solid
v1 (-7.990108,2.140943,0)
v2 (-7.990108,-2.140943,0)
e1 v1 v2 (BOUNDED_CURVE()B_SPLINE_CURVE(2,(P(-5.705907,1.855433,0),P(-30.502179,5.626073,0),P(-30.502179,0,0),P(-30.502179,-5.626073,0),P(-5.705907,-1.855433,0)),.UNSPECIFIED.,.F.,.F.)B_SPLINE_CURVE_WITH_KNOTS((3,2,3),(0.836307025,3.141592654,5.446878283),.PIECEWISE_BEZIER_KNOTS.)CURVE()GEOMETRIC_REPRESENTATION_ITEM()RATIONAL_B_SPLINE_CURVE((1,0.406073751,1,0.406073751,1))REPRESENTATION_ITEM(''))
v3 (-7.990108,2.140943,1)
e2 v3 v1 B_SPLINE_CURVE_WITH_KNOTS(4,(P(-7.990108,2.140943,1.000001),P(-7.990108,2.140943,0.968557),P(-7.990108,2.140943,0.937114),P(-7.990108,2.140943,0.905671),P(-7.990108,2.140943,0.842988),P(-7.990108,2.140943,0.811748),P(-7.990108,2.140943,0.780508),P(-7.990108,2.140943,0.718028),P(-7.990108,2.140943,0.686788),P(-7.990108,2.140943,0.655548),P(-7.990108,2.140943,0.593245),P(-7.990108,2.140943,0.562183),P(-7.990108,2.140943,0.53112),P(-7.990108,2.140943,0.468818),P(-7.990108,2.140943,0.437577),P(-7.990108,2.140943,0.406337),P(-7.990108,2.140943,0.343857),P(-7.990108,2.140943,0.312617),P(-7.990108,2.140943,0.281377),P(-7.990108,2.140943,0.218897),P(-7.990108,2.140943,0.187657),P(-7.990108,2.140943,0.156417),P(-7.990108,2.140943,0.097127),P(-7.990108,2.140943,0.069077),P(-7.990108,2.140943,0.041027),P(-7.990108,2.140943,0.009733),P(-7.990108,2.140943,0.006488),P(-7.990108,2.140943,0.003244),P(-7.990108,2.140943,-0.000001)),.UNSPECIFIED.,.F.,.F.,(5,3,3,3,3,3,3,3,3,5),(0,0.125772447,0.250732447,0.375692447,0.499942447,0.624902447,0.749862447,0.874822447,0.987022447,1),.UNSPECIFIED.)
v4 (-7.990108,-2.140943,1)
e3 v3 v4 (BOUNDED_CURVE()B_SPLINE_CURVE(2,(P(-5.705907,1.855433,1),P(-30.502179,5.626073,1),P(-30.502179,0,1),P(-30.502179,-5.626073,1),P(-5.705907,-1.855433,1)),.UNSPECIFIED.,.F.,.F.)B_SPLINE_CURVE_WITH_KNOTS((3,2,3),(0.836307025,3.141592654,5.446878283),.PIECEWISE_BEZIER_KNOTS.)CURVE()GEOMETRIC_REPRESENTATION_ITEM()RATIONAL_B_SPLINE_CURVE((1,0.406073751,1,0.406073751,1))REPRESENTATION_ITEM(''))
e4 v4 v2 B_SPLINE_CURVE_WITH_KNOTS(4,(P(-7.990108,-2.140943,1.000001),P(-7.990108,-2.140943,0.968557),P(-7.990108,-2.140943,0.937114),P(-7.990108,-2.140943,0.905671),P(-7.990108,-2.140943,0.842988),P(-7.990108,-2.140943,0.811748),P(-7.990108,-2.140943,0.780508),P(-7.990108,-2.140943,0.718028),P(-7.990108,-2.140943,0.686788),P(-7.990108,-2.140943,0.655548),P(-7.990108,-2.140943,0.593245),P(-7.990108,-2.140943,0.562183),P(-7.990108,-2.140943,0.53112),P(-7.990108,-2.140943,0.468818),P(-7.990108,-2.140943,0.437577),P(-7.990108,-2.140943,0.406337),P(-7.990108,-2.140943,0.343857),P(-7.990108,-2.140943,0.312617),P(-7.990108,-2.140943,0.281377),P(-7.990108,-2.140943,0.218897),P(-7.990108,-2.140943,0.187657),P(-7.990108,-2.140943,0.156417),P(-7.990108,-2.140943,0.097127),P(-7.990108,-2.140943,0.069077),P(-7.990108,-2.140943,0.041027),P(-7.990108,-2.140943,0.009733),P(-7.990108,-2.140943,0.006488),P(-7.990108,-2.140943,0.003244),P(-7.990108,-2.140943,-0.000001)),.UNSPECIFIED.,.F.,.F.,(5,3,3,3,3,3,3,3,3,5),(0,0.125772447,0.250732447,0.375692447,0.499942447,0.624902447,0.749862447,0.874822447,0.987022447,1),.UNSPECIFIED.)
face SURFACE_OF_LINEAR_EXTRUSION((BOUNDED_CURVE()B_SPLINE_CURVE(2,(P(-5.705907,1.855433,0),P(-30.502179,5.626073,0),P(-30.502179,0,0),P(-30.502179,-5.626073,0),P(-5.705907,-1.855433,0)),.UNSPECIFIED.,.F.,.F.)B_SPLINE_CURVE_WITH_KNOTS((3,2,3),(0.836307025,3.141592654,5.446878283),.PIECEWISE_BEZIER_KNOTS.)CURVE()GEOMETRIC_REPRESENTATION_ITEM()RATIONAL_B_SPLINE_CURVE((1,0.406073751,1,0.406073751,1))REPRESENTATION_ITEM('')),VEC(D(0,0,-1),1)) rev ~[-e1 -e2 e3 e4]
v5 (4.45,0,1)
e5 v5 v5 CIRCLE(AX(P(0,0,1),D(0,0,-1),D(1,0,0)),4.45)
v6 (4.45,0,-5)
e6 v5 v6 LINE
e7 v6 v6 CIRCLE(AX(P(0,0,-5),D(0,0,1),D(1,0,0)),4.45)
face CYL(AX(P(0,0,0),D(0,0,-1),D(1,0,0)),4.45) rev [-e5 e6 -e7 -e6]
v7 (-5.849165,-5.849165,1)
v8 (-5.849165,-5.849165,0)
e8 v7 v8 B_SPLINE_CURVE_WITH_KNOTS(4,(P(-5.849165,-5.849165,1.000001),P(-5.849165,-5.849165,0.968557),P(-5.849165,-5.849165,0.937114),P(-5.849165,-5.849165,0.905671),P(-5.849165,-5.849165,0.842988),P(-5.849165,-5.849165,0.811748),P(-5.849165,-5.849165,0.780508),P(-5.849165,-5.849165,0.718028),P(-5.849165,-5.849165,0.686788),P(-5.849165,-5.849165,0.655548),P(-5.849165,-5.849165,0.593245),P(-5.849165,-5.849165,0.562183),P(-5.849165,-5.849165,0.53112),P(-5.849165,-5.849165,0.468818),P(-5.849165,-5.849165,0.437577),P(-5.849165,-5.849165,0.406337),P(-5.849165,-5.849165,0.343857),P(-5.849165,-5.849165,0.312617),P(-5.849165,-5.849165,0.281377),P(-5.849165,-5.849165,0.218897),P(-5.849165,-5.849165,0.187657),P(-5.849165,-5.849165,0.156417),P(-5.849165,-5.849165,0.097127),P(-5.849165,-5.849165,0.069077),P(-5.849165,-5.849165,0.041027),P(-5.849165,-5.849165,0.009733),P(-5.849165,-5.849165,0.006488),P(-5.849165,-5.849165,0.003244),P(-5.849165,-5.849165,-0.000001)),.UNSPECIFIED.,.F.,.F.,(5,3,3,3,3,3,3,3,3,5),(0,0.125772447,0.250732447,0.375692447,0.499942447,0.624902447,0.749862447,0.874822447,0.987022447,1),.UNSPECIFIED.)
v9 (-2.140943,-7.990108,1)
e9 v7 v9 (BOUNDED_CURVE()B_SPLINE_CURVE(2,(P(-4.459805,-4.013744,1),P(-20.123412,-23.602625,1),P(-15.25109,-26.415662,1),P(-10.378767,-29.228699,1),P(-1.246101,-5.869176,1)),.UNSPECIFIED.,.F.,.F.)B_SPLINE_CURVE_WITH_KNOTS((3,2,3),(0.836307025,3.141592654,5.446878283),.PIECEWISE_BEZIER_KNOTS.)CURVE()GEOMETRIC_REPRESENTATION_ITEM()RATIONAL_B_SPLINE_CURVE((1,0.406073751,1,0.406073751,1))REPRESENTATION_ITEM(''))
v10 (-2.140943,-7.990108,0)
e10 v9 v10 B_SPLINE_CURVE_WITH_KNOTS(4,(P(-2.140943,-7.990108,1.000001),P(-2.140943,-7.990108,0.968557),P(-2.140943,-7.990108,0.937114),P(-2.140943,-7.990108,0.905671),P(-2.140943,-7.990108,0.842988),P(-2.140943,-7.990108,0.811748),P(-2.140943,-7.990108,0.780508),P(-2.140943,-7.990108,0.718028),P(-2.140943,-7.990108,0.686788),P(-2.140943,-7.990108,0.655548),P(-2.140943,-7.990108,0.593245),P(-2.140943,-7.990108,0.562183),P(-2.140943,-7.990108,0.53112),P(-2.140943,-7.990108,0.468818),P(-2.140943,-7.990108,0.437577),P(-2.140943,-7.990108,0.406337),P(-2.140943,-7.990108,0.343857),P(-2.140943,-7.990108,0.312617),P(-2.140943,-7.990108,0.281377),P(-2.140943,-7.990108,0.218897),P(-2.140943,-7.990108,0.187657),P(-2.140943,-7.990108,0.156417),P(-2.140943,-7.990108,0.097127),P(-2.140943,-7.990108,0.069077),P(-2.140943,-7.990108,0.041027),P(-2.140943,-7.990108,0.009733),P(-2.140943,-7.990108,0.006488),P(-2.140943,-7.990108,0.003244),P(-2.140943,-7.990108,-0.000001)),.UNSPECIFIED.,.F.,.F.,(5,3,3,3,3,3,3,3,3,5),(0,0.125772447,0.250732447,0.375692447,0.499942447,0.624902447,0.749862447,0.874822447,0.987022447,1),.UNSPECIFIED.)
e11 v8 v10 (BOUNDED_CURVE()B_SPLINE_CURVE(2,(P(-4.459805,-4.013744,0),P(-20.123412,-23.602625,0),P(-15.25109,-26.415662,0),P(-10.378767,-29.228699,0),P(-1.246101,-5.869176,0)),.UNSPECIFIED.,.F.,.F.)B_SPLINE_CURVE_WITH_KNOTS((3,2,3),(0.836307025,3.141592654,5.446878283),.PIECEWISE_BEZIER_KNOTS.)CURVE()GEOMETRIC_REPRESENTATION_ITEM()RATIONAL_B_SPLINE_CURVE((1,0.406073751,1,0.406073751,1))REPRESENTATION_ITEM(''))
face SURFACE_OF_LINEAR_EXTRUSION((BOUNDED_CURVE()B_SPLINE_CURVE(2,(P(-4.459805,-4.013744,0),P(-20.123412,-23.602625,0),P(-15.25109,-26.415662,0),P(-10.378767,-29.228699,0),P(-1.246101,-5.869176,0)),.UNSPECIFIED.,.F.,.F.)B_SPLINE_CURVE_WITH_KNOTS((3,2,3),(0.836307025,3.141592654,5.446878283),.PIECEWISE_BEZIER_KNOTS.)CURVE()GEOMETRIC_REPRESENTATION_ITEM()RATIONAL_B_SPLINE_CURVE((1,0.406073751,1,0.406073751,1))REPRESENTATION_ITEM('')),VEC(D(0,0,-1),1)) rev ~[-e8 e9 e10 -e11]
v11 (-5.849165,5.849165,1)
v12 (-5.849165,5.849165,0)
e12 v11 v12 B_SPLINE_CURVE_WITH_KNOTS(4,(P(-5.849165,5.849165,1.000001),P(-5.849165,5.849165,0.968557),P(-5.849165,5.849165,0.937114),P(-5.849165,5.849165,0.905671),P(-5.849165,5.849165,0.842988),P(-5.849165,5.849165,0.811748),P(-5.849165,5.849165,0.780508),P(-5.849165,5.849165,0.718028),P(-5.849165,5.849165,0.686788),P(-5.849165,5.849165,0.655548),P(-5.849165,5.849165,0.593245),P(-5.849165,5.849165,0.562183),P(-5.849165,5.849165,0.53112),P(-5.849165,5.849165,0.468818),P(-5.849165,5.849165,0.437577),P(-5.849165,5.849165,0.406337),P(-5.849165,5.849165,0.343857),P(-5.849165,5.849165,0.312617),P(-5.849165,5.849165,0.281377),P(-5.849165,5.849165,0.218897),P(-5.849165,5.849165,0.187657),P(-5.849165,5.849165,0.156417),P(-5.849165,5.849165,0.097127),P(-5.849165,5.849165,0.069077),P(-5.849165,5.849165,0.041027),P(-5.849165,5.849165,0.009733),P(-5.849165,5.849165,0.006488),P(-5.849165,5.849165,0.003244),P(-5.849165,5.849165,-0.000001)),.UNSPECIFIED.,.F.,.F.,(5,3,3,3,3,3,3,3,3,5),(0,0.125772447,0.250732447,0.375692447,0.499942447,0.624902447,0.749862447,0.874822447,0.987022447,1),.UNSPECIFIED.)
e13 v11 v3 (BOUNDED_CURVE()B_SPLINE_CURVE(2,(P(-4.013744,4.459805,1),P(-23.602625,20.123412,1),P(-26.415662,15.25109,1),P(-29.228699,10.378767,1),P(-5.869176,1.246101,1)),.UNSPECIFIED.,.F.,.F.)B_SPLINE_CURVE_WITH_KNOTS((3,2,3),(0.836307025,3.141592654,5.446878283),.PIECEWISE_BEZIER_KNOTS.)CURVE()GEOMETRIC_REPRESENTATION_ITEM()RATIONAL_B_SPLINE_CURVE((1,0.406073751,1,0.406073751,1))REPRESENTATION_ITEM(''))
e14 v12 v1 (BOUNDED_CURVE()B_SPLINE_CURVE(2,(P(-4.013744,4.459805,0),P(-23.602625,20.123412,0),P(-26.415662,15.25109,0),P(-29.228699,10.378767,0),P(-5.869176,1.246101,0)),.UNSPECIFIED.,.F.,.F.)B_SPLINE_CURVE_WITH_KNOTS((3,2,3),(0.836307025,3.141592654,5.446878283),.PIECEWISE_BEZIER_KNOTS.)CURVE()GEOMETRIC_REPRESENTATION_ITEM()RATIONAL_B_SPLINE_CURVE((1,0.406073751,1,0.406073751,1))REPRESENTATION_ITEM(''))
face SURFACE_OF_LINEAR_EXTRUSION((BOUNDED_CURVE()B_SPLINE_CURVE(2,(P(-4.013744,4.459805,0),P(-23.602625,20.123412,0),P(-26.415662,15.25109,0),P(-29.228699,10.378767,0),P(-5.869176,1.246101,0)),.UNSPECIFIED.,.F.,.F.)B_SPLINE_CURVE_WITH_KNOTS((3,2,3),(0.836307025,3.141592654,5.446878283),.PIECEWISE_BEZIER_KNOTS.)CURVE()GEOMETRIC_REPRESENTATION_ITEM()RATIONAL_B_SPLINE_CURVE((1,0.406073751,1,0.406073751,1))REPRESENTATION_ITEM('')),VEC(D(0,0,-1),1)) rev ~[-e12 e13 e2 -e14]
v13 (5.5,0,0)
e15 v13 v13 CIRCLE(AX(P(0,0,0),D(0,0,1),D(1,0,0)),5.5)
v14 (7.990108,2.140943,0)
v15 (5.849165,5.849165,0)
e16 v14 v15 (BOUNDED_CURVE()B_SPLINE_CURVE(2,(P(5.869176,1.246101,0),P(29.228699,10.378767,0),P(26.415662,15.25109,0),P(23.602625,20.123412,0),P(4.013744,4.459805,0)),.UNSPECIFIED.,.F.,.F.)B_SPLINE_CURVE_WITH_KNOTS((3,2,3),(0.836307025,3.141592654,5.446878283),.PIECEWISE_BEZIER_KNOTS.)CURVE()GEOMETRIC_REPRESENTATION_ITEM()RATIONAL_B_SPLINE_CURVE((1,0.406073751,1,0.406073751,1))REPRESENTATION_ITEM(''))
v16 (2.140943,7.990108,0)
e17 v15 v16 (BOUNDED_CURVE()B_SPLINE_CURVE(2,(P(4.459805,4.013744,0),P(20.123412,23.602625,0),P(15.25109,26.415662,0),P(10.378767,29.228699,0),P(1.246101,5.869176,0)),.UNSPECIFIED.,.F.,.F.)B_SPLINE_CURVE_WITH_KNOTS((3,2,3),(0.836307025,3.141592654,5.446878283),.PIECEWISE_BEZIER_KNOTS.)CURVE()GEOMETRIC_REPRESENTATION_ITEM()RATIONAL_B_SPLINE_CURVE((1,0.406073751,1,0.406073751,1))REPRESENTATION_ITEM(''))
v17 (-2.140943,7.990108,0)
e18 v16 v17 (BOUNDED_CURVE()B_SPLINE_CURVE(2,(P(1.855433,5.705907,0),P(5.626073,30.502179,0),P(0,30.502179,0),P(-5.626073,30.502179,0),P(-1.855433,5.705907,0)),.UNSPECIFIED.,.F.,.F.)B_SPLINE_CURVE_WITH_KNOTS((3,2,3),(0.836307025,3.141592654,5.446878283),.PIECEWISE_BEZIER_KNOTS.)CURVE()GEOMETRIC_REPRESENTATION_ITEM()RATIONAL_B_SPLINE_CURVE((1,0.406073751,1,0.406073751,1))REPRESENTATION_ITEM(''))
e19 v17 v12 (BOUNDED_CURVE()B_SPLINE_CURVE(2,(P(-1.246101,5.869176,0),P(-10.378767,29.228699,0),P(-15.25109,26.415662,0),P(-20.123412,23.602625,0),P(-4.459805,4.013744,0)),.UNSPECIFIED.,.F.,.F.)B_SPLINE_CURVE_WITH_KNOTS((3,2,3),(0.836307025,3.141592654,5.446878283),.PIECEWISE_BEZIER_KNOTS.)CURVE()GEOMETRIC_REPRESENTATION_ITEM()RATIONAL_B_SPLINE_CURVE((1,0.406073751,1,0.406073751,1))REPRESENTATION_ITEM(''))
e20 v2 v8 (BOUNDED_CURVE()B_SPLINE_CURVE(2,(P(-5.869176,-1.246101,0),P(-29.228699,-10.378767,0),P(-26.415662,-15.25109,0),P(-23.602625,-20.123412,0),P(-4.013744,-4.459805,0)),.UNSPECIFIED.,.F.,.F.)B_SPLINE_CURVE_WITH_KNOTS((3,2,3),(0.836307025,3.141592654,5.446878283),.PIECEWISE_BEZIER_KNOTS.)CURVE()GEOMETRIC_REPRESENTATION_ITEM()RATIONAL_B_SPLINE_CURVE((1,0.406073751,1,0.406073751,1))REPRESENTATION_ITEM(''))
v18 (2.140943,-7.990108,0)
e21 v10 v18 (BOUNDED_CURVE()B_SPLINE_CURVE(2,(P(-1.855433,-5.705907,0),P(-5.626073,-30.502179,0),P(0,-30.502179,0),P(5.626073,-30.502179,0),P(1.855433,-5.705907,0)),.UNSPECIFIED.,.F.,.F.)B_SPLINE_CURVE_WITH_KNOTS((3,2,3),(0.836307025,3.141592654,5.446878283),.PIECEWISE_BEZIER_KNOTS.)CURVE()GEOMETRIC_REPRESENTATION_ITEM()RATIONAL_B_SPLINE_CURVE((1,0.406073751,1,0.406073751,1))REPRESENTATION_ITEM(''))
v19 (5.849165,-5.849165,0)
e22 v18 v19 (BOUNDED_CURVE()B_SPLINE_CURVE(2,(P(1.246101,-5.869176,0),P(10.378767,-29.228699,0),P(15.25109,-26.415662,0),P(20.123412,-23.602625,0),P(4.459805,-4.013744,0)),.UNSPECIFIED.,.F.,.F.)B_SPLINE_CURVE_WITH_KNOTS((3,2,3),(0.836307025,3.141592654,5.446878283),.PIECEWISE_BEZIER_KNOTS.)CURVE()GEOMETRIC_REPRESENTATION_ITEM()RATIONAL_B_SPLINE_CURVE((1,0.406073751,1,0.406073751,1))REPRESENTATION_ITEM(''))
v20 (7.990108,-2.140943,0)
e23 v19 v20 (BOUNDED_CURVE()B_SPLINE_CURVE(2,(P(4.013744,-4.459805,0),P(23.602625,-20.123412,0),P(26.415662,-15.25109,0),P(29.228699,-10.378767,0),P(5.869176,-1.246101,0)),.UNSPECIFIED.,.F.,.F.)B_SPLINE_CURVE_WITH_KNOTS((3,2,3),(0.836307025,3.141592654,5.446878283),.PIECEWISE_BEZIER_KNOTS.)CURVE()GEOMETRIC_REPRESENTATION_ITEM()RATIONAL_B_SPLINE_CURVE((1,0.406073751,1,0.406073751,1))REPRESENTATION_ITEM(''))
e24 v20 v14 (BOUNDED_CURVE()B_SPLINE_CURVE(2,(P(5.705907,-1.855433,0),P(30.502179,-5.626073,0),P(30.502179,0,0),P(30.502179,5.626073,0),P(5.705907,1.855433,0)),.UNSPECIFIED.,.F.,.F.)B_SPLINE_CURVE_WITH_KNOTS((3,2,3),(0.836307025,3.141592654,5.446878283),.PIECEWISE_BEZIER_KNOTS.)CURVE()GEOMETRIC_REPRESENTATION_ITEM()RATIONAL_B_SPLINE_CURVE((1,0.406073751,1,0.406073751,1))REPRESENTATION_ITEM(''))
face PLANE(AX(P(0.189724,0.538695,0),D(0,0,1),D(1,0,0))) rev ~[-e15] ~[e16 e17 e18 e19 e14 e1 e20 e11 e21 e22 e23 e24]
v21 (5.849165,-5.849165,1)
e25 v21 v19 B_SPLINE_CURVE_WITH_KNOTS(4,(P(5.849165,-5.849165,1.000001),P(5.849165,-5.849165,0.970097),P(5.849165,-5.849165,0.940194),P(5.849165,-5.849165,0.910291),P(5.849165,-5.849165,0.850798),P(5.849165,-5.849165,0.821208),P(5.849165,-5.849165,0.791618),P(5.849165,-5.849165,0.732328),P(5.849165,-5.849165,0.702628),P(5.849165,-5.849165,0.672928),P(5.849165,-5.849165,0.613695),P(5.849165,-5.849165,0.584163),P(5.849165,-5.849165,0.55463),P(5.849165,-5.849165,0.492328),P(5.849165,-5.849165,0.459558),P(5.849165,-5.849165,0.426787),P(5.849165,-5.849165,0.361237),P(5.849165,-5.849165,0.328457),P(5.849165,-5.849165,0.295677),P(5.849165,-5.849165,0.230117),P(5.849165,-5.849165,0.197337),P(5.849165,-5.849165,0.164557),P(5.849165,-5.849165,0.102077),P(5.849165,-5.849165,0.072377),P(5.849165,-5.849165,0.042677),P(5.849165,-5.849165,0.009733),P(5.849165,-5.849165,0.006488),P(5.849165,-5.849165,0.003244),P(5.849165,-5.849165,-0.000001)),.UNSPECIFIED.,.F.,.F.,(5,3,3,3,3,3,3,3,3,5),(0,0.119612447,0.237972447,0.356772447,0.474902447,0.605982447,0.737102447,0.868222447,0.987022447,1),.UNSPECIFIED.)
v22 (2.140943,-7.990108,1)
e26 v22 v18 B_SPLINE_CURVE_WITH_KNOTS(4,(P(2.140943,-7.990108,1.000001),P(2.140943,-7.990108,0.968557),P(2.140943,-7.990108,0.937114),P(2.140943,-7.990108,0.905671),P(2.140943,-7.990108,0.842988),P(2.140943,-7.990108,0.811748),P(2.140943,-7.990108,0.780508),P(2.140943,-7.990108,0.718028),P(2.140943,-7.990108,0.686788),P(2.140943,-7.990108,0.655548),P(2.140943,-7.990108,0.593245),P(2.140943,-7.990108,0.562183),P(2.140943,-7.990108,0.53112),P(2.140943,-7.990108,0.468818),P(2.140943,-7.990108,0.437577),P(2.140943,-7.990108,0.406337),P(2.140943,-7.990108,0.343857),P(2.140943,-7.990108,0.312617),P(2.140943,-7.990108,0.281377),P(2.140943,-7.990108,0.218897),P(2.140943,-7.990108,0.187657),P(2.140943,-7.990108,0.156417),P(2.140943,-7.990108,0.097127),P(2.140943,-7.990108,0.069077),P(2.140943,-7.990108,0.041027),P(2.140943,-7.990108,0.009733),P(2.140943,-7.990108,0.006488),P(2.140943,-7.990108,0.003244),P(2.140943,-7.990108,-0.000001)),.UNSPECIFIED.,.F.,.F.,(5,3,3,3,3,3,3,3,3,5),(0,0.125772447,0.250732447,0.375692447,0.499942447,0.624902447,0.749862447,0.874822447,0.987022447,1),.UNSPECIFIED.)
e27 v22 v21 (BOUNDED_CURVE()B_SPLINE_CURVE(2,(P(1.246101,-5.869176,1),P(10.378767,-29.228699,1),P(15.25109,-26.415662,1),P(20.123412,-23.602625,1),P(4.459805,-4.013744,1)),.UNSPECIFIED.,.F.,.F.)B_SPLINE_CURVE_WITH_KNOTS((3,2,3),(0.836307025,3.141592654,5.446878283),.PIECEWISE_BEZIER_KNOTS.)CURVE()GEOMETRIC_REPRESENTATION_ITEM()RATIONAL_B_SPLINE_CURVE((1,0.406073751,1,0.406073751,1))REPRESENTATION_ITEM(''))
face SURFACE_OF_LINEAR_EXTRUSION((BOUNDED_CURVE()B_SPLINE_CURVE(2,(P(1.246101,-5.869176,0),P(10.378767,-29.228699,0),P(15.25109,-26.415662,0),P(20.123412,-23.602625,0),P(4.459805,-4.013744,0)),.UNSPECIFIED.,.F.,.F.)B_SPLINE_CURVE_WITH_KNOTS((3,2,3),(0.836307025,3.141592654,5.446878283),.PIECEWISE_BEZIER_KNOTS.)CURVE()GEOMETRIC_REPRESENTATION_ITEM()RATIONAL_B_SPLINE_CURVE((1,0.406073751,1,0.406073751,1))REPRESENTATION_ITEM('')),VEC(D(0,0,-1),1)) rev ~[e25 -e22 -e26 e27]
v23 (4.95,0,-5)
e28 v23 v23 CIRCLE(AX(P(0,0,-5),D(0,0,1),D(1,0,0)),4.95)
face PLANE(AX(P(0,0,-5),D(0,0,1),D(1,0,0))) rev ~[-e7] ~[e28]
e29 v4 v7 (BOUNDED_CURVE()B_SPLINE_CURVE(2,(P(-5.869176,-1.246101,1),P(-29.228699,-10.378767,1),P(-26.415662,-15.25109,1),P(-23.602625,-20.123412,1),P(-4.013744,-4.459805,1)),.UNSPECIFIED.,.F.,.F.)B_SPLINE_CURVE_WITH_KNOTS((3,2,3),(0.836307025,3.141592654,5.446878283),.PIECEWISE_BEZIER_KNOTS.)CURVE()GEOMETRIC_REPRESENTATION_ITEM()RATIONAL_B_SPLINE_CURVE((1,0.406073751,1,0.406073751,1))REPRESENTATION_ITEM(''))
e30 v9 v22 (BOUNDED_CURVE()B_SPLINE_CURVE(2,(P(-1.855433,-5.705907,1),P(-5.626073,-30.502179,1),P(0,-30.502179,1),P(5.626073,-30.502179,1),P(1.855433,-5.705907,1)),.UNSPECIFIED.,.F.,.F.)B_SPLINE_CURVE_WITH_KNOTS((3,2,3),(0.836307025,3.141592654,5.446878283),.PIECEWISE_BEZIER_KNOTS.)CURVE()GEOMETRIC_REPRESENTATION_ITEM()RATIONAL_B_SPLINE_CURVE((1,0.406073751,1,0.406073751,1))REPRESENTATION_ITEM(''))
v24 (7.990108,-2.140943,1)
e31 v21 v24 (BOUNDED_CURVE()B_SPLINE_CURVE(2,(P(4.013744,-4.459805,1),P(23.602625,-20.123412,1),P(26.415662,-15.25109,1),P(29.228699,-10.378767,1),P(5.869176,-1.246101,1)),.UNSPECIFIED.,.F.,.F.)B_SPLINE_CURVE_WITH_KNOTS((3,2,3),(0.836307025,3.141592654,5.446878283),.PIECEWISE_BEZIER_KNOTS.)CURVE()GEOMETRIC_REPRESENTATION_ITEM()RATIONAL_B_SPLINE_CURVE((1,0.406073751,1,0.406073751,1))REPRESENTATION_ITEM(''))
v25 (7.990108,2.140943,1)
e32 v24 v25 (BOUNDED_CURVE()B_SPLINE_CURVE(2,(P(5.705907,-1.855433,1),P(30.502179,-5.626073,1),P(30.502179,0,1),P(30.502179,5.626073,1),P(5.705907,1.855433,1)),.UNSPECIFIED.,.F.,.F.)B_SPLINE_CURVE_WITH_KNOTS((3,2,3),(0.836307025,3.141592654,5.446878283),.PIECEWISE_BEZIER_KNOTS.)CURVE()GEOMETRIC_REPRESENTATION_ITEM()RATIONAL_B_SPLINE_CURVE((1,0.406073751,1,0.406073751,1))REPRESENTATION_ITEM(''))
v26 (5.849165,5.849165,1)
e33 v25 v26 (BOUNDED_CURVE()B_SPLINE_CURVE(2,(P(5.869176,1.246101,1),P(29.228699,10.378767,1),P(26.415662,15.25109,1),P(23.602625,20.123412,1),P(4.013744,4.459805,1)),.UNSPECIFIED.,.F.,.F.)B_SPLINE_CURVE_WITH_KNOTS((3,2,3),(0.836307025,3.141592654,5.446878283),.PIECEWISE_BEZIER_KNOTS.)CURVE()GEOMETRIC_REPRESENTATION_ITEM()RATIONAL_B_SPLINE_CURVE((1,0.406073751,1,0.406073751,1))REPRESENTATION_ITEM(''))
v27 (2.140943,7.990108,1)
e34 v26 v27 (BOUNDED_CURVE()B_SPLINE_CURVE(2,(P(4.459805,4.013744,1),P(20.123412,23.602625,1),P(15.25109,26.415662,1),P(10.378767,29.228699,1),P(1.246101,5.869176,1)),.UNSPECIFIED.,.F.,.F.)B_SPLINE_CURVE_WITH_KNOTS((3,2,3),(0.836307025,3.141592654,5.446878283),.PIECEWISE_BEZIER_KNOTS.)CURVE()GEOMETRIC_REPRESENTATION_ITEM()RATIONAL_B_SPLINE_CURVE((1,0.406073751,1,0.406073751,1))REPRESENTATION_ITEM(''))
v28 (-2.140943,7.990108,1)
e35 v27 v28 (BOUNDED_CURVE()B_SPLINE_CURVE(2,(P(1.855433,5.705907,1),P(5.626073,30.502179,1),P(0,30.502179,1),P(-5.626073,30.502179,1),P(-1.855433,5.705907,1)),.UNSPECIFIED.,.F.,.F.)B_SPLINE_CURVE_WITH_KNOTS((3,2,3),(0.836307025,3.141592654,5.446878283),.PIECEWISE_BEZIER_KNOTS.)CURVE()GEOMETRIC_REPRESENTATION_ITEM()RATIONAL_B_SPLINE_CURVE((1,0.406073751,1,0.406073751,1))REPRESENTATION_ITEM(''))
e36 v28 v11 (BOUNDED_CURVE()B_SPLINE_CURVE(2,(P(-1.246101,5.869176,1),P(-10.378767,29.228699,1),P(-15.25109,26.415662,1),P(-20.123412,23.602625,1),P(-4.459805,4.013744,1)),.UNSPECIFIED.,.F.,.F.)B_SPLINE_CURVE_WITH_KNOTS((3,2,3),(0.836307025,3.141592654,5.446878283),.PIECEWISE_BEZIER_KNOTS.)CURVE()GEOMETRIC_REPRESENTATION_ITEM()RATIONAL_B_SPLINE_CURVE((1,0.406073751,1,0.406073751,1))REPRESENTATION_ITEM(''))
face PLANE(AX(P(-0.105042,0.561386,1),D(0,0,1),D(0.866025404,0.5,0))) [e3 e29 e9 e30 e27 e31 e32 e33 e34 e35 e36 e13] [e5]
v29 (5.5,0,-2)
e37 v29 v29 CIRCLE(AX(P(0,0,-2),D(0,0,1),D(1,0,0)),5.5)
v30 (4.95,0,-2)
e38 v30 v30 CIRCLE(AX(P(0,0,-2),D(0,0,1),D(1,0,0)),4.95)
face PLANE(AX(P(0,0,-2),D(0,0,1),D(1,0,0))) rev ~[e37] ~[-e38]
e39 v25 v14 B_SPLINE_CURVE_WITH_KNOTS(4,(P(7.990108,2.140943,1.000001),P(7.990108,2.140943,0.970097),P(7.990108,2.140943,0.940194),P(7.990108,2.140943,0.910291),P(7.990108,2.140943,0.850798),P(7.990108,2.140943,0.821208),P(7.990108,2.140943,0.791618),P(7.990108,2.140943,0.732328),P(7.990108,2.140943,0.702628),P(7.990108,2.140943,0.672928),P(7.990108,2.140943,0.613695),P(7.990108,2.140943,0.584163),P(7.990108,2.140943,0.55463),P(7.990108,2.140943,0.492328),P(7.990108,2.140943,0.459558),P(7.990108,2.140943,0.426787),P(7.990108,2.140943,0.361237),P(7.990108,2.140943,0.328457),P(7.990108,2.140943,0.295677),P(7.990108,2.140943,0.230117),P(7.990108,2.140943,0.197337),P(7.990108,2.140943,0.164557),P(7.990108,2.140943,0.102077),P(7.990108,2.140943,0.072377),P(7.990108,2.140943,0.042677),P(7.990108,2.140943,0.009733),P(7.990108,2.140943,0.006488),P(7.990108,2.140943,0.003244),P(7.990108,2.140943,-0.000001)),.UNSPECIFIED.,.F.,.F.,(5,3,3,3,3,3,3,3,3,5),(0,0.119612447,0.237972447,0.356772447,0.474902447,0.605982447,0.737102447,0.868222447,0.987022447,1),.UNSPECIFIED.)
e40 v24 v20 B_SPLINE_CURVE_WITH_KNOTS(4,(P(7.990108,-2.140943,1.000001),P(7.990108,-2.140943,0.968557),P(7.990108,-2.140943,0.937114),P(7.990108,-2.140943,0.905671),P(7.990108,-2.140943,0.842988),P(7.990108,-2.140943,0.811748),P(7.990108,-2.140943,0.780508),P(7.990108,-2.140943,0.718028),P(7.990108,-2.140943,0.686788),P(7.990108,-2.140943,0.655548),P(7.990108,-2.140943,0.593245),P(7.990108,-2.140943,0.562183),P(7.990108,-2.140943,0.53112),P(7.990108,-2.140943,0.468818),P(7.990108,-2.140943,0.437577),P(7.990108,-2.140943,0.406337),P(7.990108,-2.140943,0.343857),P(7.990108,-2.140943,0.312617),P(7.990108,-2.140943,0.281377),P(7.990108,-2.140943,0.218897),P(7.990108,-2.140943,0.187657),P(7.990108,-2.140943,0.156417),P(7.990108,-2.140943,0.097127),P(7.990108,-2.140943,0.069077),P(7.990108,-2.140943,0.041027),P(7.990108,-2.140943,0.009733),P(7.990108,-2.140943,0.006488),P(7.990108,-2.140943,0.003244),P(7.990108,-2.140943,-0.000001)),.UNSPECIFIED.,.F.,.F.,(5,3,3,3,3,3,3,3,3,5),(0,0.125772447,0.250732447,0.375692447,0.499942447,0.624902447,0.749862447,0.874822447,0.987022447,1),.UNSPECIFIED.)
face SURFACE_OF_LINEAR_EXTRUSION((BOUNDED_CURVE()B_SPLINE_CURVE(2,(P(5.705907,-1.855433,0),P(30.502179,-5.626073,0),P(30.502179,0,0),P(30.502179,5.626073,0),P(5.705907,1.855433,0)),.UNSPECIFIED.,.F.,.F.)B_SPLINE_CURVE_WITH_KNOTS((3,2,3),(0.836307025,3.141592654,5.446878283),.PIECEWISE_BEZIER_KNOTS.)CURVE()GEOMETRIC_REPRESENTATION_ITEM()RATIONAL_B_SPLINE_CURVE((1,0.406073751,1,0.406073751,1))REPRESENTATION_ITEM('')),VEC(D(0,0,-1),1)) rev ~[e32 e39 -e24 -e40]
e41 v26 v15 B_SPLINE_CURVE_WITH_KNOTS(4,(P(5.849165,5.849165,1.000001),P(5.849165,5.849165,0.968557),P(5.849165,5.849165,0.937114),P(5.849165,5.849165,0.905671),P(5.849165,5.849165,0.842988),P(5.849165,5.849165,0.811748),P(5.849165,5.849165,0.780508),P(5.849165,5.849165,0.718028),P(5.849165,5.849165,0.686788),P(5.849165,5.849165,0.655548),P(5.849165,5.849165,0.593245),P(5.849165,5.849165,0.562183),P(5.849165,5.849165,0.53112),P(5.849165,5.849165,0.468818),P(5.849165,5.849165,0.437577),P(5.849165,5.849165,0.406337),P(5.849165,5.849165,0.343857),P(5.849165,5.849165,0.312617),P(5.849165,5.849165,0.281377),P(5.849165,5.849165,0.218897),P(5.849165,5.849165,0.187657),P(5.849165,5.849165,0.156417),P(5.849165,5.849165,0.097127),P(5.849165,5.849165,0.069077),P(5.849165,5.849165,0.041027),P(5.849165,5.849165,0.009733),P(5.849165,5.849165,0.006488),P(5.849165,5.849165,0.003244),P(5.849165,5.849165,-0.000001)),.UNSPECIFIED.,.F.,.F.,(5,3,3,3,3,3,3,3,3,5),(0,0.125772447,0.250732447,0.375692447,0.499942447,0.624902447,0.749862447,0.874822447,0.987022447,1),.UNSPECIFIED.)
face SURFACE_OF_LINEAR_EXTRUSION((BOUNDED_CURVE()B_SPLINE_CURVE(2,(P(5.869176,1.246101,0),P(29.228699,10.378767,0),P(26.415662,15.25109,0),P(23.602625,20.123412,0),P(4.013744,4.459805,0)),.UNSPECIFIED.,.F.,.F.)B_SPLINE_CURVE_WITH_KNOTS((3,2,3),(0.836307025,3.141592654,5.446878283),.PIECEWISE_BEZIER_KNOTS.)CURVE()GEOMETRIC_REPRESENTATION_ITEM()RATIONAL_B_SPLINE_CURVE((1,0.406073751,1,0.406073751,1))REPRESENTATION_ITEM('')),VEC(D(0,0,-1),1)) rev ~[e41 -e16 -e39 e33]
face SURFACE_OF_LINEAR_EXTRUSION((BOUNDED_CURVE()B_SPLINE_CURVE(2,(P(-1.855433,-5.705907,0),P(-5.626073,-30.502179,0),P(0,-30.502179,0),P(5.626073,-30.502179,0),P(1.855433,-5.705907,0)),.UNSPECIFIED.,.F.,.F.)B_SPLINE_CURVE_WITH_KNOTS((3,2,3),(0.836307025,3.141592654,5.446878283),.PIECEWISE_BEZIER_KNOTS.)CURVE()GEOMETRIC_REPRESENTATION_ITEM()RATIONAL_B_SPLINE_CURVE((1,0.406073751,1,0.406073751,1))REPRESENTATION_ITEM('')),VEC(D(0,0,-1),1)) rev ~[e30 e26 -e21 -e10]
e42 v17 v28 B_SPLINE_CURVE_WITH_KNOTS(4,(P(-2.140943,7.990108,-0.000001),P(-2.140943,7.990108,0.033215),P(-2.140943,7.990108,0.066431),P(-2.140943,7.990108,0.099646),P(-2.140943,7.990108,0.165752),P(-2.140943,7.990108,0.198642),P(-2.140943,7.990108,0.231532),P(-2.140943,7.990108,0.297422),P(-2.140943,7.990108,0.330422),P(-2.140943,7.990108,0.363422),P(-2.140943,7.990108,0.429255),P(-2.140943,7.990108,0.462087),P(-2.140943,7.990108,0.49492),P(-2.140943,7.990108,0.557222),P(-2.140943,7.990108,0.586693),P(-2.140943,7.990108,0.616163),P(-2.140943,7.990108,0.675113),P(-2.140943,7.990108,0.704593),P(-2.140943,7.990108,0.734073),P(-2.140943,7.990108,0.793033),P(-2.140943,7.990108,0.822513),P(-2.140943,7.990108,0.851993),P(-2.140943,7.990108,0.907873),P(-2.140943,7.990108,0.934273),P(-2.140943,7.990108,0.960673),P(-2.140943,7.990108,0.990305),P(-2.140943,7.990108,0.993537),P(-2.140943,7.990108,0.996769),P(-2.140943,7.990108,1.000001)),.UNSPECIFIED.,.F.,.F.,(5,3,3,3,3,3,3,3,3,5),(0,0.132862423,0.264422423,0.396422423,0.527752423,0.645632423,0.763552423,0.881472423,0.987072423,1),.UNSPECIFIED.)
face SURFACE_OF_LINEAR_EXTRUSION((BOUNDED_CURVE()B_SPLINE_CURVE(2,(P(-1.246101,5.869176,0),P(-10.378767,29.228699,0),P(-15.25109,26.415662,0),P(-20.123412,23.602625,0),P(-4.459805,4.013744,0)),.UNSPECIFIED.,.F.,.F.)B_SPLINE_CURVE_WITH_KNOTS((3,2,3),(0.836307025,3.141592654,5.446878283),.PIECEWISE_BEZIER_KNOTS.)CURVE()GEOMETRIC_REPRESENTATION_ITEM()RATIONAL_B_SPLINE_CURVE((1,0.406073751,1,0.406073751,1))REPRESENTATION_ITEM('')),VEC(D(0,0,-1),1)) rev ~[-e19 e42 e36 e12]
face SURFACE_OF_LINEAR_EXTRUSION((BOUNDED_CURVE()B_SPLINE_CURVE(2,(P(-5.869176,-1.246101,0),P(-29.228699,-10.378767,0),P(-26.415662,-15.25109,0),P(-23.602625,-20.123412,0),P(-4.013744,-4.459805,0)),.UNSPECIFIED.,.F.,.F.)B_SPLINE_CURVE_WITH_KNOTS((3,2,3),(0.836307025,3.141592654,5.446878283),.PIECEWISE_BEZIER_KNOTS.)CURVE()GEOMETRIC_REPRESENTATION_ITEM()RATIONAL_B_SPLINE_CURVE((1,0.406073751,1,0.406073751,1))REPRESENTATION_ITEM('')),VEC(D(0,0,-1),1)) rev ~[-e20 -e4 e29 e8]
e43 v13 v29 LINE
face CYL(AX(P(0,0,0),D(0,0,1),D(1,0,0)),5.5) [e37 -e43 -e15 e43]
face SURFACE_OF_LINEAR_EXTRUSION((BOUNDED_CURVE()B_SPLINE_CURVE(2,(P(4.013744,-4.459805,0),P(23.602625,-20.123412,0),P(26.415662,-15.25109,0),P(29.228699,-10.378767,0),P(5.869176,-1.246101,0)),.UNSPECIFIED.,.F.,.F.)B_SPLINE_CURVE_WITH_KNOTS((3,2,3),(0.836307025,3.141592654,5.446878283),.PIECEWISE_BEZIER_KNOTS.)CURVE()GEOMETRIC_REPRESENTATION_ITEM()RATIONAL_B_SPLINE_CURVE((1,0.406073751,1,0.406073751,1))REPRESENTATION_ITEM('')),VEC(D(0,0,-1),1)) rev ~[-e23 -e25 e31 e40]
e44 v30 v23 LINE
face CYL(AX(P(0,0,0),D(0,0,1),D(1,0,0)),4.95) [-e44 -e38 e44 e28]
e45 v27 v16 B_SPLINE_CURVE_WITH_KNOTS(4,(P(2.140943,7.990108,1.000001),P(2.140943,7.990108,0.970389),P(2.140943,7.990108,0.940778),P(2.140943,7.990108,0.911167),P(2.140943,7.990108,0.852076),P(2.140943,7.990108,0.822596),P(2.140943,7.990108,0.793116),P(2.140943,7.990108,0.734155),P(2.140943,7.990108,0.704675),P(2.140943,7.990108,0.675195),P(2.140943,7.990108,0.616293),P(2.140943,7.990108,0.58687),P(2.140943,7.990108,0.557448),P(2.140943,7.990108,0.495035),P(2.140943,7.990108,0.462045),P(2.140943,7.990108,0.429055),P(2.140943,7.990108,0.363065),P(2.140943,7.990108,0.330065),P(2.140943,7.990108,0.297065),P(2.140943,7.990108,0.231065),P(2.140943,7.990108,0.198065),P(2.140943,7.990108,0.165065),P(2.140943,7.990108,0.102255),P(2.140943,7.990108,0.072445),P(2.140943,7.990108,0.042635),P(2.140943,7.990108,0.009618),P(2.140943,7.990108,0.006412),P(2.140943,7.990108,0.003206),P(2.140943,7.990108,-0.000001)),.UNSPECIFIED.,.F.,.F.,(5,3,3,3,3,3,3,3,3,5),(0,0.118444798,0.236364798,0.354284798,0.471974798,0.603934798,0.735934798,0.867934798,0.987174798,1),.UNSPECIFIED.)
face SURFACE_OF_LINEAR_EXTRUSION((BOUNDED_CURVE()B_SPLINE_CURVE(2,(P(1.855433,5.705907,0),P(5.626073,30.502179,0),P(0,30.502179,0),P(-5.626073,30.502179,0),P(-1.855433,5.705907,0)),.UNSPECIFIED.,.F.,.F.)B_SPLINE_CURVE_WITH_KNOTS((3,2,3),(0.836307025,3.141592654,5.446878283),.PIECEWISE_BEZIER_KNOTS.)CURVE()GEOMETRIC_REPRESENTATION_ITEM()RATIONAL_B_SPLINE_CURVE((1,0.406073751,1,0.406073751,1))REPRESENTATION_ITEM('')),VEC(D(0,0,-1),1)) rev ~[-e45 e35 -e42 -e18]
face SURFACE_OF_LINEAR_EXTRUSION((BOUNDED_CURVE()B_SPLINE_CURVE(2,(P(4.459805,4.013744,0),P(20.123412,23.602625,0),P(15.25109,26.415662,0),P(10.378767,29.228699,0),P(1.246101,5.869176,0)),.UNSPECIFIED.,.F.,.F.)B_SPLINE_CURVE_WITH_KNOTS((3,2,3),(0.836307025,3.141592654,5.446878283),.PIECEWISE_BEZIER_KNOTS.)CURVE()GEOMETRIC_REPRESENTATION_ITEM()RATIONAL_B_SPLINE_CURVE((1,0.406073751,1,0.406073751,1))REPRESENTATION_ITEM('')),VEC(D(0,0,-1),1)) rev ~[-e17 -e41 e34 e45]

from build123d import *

# Parameters (mm, degrees)
F1_DEPTH = 1
F3_COUNT = 12
F4_R     = 4.95
F4_R_2   = 4.45
F5_DEPTH = 5
F4_R_3   = 5.5
F6_DEPTH = 2
F7_DEPTH = 2


with BuildPart() as f1:
    # F0 (on Top) → F1 (new body)
    with BuildSketch(Plane.XY):
        with BuildLine():
            ThreePointArc((-1.85543281, 5.7059065088), (-3.5261454267, -4.8545132022), (6, 0))
            ThreePointArc((6, 0), (4.8545132022, 3.5261454267), (1.85543281, 5.7059065088))
            add(Edge.make_bspline(
                [(0, 0.8097463206), (1.110899103, 0.8097463206), (1.85543281, 5.7059065088)],
                knots=[0, 0, 0, 0.8363070245, 0.8363070245, 0.8363070245], degree=2, weights=[1, 0.913840308, 1]))
            add(Edge.make_bspline(
                [(-1.85543281, 5.7059065088), (-1.110899103, 0.8097463206), (0, 0.8097463206)],
                knots=[5.4468782827, 5.4468782827, 5.4468782827, 6.2831853072, 6.2831853072, 6.2831853072], degree=2, weights=[1, 0.913840308, 1]))
        make_face()
        with BuildLine():
            ThreePointArc((-1.85543281, 5.7059065088), (0, 6), (1.85543281, 5.7059065088))
            add(Edge.make_bspline(
                [(1.85543281, 5.7059065088), (5.626073496, 30.50217918), (0, 30.50217918), (-5.626073496, 30.50217918), (-1.85543281, 5.7059065088)],
                knots=[0.8363070245, 0.8363070245, 0.8363070245, 3.1415926536, 3.1415926536, 5.4468782827, 5.4468782827, 5.4468782827], degree=2, weights=[1, 0.4060737514, 1, 0.4060737514, 1]))
        make_face()
        with BuildLine():
            add(Edge.make_bspline(
                [(0, 0.8097463206), (1.110899103, 0.8097463206), (1.85543281, 5.7059065088)],
                knots=[0, 0, 0, 0.8363070245, 0.8363070245, 0.8363070245], degree=2, weights=[1, 0.913840308, 1]))
            ThreePointArc((1.85543281, 5.7059065088), (0, 6), (-1.85543281, 5.7059065088))
            add(Edge.make_bspline(
                [(-1.85543281, 5.7059065088), (-1.110899103, 0.8097463206), (0, 0.8097463206)],
                knots=[5.4468782827, 5.4468782827, 5.4468782827, 6.2831853072, 6.2831853072, 6.2831853072], degree=2, weights=[1, 0.913840308, 1]))
        make_face()
    extrude(amount=F1_DEPTH)


with BuildPart() as f3_1:
    # F3: instance of F1
    add(f1.part.rotate(Axis((0, 0, 8.796742186), (0, 0, -1)), 1 * 360 / F3_COUNT))


with BuildPart() as f3_2:
    # F3: instance of F1
    add(f1.part.rotate(Axis((0, 0, 8.796742186), (0, 0, -1)), 2 * 360 / F3_COUNT))


with BuildPart() as f3_3:
    # F3: instance of F1
    add(f1.part.rotate(Axis((0, 0, 8.796742186), (0, 0, -1)), 3 * 360 / F3_COUNT))


with BuildPart() as f3_4:
    # F3: instance of F1
    add(f1.part.rotate(Axis((0, 0, 8.796742186), (0, 0, -1)), 4 * 360 / F3_COUNT))


with BuildPart() as f3_5:
    # F3: instance of F1
    add(f1.part.rotate(Axis((0, 0, 8.796742186), (0, 0, -1)), 5 * 360 / F3_COUNT))


with BuildPart() as f3_6:
    # F3: instance of F1
    add(f1.part.rotate(Axis((0, 0, 8.796742186), (0, 0, -1)), 6 * 360 / F3_COUNT))


with BuildPart() as f3_7:
    # F3: instance of F1
    add(f1.part.rotate(Axis((0, 0, 8.796742186), (0, 0, -1)), 7 * 360 / F3_COUNT))


with BuildPart() as f3_8:
    # F3: instance of F1
    add(f1.part.rotate(Axis((0, 0, 8.796742186), (0, 0, -1)), 8 * 360 / F3_COUNT))


with BuildPart() as f3_9:
    # F3: instance of F1
    add(f1.part.rotate(Axis((0, 0, 8.796742186), (0, 0, -1)), 9 * 360 / F3_COUNT))


with BuildPart() as f3_10:
    # F3: instance of F1
    add(f1.part.rotate(Axis((0, 0, 8.796742186), (0, 0, -1)), 10 * 360 / F3_COUNT))


with BuildPart() as f3_11:
    # F3: instance of F1
    add(f1.part.rotate(Axis((0, 0, 8.796742186), (0, 0, -1)), 11 * 360 / F3_COUNT))


with BuildPart() as f1_1:
    add(f1.part)

    add(f3_1.part)  # F5 merges F3_1

    add(f3_2.part)  # F5 merges F3_2

    add(f3_3.part)  # F5 merges F3_3

    add(f3_4.part)  # F5 merges F3_4

    add(f3_5.part)  # F5 merges F3_5

    add(f3_6.part)  # F5 merges F3_6

    add(f3_7.part)  # F5 merges F3_7

    add(f3_8.part)  # F5 merges F3_8

    add(f3_9.part)  # F5 merges F3_9

    add(f3_10.part)  # F5 merges F3_10

    add(f3_11.part)  # F5 merges F3_11
    # F4 (on Top) → F5 (join)
    with BuildSketch(Plane.XY):
        Circle(F4_R)
        Circle(F4_R_2, mode=Mode.SUBTRACT)
    extrude(amount=-F5_DEPTH)

    # F4 (on Top) → F6 (join)
    with BuildSketch(Plane.XY):
        Circle(F4_R_3)
        Circle(F4_R, mode=Mode.SUBTRACT)
    extrude(amount=-F6_DEPTH)

    # F4 (on Top) → F7 (cut)
    with BuildSketch(Plane.XY):
        Circle(F4_R_2)
    extrude(amount=F7_DEPTH, mode=Mode.SUBTRACT)


solid = f1_1.part
